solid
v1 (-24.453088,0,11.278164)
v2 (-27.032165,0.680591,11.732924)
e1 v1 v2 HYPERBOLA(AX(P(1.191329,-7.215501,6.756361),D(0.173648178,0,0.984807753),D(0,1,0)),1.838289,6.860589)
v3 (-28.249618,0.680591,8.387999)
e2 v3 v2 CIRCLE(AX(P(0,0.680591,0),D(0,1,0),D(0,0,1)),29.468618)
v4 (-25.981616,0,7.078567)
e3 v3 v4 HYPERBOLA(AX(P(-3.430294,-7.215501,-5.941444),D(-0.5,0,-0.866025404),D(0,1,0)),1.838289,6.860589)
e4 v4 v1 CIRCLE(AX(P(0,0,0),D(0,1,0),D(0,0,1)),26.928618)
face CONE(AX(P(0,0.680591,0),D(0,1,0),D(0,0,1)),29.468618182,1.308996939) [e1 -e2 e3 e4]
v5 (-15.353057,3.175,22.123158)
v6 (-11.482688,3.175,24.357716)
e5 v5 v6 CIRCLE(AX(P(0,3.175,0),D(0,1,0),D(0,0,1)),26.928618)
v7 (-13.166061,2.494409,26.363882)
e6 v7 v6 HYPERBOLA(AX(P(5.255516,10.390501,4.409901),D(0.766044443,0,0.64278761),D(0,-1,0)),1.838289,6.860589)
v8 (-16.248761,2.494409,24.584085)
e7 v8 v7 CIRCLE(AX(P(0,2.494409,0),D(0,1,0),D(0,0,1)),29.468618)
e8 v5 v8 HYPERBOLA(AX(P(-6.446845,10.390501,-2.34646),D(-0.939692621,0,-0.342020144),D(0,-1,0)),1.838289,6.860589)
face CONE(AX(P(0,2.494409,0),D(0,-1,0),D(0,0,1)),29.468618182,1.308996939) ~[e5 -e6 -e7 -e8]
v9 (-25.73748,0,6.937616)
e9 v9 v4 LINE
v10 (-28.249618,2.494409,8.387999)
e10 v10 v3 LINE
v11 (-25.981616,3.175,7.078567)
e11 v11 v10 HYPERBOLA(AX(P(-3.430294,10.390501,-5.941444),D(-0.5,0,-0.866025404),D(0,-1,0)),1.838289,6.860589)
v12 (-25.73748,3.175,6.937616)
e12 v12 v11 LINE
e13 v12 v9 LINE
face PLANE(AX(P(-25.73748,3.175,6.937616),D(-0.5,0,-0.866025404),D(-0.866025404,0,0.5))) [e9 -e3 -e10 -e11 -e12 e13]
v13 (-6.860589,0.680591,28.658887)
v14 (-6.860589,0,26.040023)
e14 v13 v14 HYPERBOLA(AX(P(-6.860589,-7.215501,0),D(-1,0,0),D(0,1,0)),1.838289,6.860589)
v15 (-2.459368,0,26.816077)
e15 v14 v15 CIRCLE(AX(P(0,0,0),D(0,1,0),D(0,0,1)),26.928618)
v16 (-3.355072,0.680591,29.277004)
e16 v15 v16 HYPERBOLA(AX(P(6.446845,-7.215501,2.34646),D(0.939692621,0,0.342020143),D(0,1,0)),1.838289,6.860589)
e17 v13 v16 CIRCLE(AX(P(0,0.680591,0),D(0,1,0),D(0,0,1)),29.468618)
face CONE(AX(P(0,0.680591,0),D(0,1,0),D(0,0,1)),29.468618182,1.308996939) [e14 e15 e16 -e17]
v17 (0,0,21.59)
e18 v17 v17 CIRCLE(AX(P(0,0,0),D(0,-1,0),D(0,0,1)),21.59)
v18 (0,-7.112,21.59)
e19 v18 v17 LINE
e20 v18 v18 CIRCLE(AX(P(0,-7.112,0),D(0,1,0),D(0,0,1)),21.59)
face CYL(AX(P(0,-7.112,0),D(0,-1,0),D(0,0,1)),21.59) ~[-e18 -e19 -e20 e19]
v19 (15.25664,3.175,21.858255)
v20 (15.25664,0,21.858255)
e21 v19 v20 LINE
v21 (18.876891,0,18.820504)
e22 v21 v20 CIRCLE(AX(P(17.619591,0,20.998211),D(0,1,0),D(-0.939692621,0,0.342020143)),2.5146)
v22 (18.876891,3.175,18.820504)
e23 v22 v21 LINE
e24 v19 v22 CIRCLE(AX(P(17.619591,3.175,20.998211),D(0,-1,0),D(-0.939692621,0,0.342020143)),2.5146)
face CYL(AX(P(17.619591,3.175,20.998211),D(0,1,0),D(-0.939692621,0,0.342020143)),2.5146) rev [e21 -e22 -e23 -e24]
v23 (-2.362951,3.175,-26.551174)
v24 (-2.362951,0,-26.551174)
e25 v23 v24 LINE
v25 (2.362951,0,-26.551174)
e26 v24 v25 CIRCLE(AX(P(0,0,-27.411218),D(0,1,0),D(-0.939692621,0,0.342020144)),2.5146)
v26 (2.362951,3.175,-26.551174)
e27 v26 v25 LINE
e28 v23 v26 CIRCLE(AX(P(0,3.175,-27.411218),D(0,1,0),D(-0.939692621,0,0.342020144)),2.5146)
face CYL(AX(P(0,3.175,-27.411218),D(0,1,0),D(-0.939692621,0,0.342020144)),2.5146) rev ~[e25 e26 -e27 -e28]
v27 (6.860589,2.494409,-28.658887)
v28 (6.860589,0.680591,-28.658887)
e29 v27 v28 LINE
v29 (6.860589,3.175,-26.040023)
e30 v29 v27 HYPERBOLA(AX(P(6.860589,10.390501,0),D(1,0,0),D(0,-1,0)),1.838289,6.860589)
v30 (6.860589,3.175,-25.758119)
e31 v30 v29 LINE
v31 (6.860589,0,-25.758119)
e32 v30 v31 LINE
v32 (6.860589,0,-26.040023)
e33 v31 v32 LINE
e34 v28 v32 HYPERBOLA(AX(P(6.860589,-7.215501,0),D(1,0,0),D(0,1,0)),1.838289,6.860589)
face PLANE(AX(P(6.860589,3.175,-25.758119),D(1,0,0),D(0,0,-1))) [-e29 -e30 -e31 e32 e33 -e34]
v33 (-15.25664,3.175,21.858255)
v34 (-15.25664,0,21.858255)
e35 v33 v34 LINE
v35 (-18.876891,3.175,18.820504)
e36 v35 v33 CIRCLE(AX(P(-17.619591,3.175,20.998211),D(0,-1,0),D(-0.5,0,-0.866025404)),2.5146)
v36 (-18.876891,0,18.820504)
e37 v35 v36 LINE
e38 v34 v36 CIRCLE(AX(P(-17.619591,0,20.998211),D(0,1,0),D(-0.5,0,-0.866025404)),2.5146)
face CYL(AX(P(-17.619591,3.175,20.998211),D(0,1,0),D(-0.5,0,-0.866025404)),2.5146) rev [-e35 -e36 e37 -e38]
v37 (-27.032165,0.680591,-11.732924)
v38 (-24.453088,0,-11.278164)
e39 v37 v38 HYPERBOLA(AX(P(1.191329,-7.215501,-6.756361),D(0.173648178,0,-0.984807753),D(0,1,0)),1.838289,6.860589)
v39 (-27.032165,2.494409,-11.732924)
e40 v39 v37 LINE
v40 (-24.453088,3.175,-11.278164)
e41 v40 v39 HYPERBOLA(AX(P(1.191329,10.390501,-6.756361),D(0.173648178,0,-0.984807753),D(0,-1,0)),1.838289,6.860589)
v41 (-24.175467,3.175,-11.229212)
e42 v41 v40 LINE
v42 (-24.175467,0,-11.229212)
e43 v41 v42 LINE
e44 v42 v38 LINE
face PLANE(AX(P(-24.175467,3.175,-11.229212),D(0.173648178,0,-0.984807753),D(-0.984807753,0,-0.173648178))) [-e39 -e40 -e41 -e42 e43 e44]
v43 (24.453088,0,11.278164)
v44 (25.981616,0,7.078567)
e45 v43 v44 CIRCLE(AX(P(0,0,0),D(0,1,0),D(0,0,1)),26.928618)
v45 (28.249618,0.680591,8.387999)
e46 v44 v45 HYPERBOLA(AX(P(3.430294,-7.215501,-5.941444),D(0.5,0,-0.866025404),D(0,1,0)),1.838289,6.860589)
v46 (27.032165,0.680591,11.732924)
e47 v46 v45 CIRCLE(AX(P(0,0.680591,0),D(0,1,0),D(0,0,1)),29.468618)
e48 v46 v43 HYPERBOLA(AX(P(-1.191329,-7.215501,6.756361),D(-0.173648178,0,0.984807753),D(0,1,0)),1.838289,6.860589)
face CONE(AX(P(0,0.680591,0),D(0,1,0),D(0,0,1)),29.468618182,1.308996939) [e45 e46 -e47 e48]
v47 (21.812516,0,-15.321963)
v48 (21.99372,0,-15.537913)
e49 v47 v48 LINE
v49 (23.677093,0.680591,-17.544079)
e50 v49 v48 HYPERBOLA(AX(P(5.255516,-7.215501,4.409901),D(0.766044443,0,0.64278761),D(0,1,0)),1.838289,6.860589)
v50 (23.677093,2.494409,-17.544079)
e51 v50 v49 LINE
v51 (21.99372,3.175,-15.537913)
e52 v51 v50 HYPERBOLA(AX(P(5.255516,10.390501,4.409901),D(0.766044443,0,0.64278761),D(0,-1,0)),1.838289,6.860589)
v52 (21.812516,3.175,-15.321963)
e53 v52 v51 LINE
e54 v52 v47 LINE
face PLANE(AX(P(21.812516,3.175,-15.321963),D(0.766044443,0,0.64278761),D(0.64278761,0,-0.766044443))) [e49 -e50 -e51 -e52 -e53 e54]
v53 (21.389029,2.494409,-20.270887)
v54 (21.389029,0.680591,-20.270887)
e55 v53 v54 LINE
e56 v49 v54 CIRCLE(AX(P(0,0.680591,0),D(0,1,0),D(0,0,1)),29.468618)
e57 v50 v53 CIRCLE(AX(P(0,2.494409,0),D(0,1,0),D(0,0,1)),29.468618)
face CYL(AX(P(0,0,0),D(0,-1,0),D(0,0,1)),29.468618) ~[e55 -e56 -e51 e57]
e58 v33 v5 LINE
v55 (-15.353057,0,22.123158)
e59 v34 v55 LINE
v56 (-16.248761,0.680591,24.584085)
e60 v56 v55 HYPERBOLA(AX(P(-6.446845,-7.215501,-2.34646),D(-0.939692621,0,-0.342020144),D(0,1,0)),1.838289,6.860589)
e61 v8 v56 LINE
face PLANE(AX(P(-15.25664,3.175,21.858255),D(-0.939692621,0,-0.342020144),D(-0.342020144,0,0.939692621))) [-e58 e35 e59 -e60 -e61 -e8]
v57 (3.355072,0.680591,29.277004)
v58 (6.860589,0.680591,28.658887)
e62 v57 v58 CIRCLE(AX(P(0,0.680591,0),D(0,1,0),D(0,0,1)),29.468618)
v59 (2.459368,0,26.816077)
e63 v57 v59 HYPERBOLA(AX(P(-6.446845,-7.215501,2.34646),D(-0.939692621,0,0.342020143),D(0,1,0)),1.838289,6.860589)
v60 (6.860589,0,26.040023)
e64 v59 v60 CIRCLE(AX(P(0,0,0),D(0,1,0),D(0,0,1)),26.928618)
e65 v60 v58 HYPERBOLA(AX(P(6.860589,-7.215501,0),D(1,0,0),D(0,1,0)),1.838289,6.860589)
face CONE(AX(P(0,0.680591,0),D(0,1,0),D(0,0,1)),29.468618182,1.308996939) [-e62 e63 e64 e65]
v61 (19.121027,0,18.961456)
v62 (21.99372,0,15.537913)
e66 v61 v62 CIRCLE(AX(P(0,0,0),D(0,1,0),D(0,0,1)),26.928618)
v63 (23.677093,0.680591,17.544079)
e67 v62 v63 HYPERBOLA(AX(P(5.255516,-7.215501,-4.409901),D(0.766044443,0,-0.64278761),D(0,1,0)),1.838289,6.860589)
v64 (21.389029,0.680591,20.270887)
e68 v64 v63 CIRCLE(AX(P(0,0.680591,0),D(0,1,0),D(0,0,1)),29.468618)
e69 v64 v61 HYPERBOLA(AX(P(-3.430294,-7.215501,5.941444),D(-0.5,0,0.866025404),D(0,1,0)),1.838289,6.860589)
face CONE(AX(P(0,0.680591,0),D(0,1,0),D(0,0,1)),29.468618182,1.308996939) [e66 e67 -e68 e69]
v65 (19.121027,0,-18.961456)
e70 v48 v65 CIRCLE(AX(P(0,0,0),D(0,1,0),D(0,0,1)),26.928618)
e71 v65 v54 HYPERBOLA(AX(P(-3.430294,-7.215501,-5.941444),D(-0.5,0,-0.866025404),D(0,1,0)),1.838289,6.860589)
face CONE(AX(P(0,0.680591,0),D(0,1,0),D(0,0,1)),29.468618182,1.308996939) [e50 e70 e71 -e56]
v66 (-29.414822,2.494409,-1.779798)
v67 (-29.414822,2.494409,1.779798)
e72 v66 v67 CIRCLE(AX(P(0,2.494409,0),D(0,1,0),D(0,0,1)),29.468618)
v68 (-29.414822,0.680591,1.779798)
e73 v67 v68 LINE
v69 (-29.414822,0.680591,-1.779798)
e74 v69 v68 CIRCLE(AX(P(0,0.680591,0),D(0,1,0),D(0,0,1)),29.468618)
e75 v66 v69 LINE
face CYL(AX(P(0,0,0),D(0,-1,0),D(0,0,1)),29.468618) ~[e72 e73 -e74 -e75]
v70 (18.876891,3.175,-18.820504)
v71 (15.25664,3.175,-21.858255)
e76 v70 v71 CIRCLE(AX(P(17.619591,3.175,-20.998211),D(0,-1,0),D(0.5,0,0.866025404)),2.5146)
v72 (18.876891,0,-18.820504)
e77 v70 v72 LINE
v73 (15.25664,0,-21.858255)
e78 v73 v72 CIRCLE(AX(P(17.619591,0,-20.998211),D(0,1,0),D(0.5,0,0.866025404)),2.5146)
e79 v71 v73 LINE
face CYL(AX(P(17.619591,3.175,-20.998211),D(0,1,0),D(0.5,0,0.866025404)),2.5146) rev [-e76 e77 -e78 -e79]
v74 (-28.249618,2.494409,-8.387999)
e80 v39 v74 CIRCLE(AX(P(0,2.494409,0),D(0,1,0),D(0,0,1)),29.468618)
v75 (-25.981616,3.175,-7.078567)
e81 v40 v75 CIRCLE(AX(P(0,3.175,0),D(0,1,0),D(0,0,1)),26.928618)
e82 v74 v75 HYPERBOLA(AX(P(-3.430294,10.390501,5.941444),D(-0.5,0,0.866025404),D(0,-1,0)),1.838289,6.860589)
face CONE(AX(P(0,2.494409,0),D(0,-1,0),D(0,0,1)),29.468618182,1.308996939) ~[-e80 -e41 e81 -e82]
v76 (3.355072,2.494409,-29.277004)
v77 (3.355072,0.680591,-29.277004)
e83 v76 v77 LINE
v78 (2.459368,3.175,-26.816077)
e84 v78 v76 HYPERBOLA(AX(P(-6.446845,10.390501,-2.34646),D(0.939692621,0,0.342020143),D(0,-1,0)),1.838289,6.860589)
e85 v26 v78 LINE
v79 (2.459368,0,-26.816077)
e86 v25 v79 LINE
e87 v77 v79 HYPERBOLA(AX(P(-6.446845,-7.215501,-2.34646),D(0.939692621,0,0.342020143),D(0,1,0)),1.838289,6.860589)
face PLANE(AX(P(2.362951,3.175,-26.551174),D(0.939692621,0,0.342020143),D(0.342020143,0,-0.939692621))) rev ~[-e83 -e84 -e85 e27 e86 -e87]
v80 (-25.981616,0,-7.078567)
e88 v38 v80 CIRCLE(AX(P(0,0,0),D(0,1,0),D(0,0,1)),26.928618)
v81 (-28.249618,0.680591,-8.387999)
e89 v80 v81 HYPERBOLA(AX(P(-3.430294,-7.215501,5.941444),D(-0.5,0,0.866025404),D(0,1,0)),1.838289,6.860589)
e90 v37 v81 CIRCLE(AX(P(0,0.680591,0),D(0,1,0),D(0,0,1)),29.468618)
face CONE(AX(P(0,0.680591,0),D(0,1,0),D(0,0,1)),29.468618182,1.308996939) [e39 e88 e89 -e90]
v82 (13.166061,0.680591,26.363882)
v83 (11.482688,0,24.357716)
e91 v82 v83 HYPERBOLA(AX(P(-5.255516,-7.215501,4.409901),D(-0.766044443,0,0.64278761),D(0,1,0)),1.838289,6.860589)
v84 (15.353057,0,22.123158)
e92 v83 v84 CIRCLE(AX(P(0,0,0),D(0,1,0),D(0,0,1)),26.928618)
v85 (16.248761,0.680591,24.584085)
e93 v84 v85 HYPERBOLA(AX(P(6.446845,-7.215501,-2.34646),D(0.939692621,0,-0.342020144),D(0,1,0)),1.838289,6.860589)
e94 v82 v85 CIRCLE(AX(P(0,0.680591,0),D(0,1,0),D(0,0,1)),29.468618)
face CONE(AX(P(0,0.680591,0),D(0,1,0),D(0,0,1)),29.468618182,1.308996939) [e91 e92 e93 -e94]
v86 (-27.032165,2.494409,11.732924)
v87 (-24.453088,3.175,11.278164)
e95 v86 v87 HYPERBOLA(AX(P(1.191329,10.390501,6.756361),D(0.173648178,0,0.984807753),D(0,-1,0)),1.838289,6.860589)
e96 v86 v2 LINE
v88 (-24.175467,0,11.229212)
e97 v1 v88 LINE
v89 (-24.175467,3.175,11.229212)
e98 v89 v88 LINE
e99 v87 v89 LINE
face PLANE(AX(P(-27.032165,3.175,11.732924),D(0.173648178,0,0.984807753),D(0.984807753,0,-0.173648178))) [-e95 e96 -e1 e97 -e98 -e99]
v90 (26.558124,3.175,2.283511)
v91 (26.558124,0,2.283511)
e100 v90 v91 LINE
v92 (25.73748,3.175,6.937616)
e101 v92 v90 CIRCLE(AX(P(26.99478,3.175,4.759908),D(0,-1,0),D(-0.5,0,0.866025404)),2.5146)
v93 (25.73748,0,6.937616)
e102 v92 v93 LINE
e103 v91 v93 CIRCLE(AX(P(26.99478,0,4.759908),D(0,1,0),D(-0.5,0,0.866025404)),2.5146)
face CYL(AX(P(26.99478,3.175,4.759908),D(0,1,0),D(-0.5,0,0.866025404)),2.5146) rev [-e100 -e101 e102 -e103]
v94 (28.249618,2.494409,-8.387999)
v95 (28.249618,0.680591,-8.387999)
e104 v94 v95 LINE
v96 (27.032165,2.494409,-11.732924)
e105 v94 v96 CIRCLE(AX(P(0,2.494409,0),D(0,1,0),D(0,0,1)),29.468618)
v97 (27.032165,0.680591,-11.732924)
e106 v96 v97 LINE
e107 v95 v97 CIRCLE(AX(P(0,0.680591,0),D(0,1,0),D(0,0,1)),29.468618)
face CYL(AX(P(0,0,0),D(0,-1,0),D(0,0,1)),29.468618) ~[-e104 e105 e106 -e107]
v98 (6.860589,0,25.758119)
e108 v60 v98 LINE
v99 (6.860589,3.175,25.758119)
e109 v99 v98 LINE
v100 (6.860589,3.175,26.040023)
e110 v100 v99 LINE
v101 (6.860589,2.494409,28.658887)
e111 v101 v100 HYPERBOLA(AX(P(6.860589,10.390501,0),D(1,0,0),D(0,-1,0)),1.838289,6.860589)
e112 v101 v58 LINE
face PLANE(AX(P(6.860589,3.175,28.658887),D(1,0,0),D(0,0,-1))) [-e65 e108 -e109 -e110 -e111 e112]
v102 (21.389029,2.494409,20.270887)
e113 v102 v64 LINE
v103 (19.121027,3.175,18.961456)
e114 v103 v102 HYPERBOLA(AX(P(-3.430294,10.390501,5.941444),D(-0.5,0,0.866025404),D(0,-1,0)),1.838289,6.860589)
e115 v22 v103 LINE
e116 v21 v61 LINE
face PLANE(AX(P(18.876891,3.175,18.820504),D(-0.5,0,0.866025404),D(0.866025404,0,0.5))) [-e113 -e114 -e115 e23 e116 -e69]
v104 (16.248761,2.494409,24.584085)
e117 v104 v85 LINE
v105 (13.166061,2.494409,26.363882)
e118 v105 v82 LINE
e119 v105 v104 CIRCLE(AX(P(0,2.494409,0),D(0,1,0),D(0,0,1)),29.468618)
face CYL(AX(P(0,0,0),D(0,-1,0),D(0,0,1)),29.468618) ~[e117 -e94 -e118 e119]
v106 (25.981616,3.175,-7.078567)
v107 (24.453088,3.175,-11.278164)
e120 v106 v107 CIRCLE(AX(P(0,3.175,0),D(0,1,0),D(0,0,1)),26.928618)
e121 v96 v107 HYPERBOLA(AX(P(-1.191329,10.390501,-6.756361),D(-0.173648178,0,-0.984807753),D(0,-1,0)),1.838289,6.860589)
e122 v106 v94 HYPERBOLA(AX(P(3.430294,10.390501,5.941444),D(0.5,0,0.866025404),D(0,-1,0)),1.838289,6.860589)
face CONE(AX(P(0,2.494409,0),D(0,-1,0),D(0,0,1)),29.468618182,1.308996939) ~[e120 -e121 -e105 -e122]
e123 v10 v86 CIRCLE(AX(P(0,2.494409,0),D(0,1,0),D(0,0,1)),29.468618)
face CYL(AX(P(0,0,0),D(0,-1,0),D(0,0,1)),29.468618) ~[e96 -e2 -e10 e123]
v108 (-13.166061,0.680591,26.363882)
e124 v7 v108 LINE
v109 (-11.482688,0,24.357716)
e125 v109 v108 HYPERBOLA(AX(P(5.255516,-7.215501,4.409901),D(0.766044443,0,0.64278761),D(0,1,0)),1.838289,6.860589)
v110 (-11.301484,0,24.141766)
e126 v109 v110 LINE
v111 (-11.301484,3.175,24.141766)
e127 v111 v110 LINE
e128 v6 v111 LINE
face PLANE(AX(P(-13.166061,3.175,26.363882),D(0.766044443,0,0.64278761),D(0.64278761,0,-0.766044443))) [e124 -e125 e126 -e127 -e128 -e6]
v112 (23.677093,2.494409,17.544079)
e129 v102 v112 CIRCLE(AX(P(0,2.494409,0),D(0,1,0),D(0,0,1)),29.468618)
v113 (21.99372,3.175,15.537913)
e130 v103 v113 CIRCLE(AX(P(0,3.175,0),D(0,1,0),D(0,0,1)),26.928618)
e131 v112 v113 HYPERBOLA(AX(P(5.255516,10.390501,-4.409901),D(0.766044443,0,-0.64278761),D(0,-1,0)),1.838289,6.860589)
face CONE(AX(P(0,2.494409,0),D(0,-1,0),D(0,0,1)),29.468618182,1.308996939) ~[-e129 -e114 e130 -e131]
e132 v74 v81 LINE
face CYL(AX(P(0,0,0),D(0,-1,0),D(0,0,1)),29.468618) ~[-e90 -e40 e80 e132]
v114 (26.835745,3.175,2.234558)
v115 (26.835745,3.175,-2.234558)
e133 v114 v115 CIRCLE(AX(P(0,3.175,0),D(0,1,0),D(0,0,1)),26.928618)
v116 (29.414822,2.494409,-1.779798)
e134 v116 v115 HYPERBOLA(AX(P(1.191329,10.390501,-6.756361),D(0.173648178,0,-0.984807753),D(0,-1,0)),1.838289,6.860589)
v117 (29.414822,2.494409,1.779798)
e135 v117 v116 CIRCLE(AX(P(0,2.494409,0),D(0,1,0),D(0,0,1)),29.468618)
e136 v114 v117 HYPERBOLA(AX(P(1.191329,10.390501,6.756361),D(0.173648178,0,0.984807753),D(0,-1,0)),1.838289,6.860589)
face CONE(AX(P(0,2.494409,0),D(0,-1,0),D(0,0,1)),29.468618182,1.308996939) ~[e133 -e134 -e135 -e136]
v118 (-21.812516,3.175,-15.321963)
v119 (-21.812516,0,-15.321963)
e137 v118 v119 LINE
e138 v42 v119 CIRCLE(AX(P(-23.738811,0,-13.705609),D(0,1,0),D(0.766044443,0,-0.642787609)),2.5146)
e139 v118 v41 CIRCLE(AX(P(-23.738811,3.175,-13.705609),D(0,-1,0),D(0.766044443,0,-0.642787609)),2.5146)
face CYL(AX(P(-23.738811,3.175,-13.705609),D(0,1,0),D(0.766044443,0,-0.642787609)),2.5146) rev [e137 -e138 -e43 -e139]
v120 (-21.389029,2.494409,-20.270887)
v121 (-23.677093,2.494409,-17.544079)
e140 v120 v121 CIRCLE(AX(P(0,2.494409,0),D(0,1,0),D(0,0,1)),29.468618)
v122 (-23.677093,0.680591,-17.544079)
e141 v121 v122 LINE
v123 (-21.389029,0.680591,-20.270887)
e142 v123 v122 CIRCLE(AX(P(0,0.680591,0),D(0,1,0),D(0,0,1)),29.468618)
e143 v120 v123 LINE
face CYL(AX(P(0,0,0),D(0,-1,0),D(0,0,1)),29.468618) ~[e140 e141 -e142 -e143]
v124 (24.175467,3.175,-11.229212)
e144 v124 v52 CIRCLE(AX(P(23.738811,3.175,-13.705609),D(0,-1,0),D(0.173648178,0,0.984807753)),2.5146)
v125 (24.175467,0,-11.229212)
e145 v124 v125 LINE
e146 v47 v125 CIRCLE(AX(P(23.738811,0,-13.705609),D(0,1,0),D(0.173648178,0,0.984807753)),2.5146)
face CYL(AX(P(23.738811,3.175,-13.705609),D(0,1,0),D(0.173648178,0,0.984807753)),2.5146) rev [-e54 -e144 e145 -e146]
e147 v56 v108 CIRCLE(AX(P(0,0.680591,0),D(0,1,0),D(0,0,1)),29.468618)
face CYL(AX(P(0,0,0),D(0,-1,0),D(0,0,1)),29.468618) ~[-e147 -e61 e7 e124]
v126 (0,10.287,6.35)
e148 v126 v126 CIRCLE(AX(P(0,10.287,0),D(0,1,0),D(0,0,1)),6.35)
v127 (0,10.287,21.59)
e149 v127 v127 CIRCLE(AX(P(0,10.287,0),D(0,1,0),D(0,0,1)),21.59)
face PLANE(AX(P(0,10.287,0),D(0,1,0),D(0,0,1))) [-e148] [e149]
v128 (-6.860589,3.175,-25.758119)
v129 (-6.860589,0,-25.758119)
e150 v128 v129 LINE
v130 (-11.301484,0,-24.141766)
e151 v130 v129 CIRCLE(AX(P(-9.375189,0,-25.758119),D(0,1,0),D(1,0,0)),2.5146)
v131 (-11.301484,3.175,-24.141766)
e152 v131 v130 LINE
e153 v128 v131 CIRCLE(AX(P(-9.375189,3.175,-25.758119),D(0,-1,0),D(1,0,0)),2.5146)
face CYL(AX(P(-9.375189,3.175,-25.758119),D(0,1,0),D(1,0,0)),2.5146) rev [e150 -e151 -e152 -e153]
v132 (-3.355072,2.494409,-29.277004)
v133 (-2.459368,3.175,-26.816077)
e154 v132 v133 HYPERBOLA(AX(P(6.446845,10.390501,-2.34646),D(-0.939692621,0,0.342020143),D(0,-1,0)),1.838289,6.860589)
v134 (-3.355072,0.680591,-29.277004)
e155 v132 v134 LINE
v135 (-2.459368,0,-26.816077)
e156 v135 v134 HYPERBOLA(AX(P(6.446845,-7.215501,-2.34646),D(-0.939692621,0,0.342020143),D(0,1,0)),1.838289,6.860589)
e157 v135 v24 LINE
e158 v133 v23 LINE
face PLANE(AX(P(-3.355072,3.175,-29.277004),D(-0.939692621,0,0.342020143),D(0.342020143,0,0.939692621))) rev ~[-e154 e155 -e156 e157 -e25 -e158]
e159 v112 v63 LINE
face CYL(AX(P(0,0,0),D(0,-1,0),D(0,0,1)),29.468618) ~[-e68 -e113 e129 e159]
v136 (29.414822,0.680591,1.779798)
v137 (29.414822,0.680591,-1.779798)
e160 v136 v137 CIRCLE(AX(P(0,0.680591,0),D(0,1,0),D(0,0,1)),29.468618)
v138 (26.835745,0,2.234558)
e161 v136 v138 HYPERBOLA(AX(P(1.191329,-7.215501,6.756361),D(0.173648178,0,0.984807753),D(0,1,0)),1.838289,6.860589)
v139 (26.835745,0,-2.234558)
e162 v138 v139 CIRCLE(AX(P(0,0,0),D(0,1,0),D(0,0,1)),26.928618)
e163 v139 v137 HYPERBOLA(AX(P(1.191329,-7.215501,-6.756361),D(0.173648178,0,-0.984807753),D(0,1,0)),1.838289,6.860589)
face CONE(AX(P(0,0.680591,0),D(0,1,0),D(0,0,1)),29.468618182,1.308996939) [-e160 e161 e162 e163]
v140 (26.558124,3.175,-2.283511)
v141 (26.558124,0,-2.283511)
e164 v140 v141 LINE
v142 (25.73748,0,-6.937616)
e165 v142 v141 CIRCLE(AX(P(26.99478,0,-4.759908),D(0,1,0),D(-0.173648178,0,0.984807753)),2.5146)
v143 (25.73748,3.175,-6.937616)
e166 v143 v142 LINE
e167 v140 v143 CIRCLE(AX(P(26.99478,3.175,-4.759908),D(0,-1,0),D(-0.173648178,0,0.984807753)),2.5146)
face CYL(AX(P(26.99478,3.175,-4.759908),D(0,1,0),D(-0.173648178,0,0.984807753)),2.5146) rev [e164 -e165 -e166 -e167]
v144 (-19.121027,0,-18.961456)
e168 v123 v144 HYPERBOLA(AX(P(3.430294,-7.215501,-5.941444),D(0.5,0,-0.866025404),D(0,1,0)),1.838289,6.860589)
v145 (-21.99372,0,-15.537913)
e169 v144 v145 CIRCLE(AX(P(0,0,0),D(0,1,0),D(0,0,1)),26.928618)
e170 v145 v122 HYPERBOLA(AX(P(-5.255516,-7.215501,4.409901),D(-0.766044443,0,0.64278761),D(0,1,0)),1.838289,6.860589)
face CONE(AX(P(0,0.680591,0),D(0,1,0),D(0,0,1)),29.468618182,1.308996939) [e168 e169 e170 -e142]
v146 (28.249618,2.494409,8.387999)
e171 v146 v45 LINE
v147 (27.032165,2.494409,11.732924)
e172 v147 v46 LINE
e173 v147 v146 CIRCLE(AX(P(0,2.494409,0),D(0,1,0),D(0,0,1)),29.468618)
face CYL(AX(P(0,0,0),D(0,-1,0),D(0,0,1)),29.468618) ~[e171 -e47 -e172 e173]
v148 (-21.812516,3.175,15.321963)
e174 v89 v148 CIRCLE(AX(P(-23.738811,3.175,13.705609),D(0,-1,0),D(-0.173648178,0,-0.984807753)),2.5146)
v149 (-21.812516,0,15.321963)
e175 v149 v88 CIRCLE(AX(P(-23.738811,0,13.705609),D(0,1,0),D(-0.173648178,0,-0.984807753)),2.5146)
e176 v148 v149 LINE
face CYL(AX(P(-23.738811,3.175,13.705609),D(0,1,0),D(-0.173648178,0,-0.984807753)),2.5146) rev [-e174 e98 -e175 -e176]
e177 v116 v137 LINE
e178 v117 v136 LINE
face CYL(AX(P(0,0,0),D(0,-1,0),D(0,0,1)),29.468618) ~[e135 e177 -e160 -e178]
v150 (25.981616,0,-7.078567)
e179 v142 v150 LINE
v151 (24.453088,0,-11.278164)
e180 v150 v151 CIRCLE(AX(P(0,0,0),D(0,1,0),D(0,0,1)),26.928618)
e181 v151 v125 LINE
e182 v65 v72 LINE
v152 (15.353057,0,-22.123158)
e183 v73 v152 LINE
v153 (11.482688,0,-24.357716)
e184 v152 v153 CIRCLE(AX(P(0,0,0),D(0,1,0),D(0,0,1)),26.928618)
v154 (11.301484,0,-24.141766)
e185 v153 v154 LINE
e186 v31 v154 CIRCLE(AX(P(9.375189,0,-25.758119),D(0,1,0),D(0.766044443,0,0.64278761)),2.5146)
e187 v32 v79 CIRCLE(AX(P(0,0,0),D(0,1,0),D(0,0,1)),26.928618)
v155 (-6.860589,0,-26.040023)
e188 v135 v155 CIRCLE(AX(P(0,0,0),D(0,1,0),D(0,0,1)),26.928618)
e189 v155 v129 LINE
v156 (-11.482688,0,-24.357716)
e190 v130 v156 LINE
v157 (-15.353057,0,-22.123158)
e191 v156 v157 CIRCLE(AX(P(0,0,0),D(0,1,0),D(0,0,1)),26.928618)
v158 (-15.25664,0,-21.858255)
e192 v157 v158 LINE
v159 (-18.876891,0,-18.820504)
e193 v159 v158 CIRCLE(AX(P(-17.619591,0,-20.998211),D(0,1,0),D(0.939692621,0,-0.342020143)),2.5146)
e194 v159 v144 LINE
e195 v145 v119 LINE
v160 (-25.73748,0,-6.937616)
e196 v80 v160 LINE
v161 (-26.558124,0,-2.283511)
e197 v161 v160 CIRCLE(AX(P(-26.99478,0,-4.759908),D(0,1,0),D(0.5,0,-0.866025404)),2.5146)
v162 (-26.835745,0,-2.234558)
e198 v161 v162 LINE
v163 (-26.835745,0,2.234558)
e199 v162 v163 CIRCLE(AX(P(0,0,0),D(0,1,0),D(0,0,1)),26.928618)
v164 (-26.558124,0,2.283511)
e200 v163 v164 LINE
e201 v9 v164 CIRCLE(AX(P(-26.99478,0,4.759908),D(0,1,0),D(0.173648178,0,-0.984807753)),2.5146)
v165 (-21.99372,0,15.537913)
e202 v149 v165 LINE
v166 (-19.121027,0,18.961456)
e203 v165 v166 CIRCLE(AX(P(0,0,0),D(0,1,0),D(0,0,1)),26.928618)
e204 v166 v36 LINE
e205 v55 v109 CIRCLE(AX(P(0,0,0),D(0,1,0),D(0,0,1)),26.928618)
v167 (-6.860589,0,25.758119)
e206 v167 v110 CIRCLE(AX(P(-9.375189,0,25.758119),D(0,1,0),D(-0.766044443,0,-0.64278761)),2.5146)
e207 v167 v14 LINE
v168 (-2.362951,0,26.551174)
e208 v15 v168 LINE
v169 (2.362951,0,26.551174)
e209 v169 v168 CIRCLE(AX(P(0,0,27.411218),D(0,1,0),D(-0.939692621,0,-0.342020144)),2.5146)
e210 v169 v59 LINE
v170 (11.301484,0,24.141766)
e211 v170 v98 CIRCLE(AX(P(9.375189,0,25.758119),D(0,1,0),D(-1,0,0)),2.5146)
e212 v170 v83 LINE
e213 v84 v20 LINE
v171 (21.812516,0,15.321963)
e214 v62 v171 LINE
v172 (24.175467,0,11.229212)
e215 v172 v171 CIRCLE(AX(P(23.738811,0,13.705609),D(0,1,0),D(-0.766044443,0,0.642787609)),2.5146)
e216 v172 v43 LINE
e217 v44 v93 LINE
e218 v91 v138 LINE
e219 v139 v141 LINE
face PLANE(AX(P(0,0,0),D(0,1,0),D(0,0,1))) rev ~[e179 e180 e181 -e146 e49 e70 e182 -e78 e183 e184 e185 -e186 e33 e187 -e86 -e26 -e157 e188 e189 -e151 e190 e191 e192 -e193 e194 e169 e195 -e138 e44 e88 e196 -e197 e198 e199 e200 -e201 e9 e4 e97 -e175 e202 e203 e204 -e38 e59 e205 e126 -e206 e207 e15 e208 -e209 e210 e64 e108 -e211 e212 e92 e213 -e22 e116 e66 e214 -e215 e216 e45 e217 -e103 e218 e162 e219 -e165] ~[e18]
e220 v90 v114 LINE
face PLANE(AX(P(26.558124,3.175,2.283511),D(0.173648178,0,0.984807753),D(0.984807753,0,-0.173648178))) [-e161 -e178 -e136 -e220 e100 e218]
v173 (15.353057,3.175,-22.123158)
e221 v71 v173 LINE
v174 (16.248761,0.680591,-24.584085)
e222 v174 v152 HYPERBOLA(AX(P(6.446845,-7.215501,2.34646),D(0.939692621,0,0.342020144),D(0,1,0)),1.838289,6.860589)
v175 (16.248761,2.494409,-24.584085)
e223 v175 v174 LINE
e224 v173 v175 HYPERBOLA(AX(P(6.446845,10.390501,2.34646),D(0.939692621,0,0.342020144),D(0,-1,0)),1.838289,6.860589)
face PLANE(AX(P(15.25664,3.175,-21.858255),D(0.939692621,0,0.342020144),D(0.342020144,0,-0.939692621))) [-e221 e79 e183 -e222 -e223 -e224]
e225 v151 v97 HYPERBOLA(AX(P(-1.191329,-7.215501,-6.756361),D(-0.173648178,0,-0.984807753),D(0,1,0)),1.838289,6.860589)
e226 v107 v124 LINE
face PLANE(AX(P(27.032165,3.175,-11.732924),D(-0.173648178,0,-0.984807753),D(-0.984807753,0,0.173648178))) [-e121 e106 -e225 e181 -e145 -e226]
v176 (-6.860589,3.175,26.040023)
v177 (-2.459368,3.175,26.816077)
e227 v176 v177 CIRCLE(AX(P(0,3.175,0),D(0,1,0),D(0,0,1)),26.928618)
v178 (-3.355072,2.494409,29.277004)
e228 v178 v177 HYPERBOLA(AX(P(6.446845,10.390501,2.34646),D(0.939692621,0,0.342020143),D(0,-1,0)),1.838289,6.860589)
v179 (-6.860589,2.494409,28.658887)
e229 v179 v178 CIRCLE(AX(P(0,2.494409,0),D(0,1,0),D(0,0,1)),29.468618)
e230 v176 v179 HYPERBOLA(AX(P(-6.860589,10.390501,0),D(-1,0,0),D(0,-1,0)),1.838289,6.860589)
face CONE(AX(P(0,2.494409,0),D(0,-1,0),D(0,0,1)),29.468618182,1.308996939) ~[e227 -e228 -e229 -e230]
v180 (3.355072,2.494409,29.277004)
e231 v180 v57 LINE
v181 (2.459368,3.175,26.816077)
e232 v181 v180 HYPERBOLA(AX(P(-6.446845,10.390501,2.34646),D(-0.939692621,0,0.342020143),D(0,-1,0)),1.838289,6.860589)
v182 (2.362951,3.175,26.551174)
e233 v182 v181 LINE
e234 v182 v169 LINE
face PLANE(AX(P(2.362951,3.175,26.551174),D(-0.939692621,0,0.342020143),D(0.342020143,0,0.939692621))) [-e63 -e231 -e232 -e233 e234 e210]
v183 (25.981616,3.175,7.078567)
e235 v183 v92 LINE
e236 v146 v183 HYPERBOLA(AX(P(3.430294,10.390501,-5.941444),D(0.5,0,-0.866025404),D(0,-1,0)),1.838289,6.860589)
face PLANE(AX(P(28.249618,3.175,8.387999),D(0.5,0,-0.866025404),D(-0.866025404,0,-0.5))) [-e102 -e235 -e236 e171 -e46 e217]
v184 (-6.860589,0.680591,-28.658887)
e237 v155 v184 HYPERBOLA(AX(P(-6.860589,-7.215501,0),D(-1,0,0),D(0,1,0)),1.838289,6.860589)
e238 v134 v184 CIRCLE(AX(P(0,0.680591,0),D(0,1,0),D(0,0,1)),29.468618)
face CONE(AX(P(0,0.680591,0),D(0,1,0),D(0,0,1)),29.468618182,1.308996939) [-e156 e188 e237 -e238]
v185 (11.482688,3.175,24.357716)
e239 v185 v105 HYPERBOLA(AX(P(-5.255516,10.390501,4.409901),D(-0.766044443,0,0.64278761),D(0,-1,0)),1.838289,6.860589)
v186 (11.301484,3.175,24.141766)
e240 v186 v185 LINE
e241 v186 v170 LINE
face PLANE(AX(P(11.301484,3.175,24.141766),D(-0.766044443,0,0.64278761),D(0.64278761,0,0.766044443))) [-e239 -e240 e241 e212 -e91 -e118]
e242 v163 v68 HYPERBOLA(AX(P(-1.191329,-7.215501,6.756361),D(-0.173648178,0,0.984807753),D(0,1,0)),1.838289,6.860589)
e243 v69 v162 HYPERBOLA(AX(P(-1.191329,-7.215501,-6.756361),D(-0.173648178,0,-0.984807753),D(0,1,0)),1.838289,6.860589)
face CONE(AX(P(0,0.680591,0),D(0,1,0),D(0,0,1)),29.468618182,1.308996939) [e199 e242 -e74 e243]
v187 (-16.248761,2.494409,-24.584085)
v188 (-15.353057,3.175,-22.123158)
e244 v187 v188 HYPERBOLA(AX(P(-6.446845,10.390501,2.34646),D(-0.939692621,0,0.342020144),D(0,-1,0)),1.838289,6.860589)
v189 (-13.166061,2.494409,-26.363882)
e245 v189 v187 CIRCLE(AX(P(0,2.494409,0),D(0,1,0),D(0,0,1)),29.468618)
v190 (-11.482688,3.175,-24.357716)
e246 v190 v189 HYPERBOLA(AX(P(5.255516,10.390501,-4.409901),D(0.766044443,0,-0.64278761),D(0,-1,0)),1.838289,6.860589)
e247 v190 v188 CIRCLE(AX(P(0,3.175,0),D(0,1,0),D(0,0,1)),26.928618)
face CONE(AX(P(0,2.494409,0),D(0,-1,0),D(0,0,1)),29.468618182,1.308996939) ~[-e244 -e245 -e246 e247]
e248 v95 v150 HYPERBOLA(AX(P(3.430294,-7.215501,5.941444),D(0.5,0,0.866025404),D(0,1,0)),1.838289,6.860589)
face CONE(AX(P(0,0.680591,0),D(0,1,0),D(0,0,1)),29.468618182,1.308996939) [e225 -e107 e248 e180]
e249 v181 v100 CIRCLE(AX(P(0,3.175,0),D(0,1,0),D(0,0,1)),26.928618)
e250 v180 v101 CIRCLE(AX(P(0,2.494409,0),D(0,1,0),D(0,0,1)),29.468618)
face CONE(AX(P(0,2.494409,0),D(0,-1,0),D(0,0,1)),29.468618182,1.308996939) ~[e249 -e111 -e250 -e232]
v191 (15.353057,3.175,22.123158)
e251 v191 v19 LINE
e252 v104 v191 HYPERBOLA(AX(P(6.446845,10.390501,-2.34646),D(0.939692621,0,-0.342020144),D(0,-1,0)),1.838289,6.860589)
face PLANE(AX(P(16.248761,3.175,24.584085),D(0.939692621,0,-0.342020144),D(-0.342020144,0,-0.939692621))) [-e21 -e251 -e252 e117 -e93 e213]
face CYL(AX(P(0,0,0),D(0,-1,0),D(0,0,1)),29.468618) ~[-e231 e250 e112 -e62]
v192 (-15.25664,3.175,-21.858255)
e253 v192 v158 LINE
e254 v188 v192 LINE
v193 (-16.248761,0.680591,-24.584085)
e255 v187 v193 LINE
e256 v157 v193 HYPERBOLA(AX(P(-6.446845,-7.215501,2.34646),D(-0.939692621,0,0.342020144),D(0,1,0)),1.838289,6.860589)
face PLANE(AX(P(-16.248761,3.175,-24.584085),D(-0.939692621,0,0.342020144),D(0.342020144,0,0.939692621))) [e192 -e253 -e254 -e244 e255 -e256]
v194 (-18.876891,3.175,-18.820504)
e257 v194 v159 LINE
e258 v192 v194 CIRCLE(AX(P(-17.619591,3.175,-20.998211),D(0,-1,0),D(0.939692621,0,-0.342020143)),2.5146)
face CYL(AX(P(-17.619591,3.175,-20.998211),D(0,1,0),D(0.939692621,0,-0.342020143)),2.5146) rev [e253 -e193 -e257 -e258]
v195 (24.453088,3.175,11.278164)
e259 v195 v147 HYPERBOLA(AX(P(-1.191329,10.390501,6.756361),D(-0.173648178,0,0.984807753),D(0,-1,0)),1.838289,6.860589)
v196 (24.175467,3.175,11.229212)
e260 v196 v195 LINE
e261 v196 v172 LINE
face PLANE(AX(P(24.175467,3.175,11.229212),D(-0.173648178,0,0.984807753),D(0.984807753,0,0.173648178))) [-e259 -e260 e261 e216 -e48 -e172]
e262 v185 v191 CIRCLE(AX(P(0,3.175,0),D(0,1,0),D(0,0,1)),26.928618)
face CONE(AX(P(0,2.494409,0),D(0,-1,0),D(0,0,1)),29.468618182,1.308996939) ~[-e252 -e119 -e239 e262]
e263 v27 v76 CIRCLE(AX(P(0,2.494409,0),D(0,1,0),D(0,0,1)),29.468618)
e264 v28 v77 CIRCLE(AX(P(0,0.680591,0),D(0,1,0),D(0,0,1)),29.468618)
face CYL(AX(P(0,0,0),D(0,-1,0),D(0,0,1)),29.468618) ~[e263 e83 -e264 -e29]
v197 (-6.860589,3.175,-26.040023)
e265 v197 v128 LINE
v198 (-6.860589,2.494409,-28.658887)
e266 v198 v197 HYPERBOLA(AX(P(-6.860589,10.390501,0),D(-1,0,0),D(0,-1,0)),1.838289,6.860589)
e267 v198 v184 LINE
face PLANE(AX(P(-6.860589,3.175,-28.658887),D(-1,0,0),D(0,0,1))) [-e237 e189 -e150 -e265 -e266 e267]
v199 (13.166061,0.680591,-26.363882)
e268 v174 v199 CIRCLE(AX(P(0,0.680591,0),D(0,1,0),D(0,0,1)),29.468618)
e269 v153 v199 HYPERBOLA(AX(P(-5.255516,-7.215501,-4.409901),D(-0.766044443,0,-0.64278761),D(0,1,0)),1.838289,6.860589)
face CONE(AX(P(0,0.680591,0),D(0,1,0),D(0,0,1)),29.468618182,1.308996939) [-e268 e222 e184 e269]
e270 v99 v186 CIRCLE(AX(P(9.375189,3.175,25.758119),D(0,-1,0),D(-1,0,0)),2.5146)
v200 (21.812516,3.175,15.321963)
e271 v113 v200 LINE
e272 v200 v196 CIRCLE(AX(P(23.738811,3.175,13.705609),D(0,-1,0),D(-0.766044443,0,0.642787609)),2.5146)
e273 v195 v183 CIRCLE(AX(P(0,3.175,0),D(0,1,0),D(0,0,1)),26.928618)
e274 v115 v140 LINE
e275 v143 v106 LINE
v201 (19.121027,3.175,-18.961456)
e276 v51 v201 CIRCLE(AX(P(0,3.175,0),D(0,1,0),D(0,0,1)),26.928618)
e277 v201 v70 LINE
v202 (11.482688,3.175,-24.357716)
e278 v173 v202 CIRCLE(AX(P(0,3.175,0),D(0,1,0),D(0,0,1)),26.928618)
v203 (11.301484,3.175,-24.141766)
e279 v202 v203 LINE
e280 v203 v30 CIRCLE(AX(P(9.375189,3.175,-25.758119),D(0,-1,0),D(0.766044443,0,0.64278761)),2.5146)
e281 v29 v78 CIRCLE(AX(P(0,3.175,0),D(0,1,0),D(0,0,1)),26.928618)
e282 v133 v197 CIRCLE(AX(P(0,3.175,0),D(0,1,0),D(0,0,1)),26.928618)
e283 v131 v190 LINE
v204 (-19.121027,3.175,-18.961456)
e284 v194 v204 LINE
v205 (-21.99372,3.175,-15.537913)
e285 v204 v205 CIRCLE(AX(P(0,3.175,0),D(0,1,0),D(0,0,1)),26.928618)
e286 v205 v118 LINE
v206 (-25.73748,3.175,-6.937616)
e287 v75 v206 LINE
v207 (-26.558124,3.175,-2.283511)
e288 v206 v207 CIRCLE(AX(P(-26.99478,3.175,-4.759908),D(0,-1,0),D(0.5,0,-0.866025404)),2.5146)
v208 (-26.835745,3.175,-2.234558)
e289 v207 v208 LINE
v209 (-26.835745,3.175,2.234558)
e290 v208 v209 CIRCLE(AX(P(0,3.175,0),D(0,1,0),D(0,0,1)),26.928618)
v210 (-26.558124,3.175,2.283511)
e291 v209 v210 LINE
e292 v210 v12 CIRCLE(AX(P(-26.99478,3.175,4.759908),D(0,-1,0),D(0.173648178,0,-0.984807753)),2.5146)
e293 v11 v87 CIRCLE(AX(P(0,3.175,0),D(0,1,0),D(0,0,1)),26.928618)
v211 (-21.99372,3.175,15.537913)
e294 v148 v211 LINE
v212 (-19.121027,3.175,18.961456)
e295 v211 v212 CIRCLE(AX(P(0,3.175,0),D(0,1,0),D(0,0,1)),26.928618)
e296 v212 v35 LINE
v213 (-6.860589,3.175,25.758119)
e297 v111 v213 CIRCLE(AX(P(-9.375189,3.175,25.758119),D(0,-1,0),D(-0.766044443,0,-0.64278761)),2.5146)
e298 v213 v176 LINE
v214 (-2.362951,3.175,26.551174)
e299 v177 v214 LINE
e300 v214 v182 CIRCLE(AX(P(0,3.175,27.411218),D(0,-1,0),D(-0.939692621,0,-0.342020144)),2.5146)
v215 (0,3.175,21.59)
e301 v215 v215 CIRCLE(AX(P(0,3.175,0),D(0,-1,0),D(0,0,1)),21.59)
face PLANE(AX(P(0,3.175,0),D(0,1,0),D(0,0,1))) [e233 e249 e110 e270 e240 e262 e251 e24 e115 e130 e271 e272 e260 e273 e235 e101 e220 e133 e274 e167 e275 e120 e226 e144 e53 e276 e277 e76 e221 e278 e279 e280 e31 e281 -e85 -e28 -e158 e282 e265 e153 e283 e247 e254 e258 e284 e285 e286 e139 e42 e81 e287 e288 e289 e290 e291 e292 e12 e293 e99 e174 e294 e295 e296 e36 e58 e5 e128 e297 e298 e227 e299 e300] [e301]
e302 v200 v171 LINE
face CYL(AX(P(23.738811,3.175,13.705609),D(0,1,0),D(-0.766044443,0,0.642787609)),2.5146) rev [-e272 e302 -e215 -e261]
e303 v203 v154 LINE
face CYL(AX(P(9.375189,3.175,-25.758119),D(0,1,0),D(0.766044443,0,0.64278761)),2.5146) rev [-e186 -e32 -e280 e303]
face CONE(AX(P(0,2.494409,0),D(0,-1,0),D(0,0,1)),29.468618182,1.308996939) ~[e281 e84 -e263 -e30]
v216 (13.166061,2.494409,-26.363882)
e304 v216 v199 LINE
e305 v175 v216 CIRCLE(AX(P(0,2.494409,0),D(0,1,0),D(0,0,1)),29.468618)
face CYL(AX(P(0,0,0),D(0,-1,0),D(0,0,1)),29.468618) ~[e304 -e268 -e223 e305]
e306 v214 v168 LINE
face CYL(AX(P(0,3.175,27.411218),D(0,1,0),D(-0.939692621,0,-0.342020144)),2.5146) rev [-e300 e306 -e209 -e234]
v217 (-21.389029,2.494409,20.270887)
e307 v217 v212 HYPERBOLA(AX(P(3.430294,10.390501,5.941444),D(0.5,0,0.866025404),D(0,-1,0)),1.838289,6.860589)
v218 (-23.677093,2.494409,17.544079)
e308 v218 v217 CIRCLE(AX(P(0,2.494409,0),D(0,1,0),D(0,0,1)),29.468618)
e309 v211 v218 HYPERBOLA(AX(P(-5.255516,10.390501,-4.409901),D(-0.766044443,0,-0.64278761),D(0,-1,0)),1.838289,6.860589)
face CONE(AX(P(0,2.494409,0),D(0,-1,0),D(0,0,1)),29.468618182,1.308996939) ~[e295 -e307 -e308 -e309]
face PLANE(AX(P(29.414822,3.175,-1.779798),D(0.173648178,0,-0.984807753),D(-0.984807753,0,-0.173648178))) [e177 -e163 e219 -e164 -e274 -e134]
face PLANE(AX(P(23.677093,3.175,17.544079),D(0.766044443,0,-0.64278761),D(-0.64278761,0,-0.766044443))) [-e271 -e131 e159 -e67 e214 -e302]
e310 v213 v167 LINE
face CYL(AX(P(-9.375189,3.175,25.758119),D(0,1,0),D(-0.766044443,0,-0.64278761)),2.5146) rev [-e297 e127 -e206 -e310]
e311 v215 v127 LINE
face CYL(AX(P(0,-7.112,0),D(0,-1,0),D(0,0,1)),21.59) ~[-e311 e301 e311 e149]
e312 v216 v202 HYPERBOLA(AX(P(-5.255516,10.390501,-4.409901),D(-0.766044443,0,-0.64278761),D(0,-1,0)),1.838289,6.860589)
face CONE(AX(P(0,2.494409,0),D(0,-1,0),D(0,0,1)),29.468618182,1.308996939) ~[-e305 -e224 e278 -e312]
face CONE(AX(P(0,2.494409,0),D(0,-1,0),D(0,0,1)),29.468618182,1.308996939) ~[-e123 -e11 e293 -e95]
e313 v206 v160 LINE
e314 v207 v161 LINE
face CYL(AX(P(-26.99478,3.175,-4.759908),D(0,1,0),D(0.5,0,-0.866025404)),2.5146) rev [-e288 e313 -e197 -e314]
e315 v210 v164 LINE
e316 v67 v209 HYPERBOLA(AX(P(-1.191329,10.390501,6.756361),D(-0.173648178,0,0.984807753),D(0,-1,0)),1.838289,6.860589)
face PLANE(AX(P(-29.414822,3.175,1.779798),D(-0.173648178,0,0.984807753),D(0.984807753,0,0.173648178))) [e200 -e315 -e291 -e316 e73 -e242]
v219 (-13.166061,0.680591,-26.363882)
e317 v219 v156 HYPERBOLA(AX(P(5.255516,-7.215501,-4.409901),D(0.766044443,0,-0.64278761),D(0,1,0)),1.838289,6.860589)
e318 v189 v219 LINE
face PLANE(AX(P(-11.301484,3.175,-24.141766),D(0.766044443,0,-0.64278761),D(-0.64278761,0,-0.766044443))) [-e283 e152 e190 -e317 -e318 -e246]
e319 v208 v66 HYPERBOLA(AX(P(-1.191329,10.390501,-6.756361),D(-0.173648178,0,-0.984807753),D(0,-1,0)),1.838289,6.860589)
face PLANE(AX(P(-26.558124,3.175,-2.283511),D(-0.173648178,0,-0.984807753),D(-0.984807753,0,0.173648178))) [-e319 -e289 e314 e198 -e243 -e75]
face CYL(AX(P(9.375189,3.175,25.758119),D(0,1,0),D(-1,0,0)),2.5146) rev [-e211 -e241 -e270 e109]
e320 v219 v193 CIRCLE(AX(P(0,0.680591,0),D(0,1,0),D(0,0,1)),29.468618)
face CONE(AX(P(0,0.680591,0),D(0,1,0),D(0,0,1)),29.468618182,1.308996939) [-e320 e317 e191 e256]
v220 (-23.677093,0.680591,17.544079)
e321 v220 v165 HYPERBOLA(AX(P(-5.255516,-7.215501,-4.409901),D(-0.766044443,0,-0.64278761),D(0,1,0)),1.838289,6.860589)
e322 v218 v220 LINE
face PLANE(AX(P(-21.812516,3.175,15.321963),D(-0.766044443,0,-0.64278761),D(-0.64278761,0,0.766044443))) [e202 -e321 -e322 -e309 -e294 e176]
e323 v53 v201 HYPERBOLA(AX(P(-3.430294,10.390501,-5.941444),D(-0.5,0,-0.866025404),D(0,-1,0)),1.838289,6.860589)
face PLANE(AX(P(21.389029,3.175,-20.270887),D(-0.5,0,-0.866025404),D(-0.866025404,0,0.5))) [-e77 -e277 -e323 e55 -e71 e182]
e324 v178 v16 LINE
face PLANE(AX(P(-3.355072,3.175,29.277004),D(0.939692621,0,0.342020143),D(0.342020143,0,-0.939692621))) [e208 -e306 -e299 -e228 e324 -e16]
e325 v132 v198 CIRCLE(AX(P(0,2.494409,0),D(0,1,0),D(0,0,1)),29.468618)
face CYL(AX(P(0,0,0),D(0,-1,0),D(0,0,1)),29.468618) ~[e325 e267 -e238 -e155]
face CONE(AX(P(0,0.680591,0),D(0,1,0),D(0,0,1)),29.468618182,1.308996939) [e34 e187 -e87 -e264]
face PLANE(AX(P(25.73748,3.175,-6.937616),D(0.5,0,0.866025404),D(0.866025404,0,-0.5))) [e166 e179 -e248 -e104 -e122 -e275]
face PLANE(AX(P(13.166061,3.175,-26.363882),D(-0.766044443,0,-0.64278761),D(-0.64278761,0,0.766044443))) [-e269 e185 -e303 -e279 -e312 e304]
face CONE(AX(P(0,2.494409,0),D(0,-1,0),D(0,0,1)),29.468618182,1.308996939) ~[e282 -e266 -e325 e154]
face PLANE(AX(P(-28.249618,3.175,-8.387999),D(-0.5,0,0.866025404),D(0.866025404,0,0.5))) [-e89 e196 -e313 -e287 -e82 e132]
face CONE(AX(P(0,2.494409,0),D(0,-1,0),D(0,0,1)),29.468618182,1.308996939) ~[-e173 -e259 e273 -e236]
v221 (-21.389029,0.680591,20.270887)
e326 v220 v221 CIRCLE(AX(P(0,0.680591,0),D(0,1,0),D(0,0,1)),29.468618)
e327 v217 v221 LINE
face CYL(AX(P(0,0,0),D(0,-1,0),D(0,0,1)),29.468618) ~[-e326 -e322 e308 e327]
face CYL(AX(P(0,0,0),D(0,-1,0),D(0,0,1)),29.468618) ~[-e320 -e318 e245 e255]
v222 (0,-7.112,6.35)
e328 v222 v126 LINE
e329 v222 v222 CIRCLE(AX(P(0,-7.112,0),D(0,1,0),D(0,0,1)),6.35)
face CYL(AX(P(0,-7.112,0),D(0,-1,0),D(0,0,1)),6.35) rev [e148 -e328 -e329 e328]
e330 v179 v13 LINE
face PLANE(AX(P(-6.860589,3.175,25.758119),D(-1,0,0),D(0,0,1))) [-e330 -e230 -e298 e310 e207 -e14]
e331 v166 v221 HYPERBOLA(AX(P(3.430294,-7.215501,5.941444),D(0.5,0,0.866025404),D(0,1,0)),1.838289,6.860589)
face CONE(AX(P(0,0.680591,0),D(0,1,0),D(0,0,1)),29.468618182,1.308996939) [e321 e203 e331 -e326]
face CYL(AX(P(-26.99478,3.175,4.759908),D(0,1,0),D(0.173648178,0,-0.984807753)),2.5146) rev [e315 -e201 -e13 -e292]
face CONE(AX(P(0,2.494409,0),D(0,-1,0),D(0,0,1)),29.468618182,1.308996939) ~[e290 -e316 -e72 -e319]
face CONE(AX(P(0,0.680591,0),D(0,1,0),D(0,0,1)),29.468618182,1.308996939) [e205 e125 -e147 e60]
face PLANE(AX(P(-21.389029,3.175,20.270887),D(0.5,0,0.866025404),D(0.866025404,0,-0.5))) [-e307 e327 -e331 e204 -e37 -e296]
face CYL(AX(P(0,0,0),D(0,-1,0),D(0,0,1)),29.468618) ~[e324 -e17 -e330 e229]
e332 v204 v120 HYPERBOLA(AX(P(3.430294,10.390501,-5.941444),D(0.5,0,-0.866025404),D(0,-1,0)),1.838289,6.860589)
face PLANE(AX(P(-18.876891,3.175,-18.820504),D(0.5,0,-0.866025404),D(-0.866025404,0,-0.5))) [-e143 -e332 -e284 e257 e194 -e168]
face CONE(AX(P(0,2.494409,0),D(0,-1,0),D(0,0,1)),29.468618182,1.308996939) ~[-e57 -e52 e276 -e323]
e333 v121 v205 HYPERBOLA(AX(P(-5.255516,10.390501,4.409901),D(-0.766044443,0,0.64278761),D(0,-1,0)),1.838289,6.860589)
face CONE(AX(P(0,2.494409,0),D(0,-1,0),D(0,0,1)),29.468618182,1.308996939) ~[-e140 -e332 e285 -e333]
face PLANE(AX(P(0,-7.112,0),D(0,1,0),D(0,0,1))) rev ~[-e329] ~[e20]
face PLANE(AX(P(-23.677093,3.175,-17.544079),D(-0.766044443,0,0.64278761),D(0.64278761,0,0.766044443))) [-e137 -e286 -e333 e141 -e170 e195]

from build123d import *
from OCP.BRepFilletAPI import BRepFilletAPI_MakeChamfer

# Parameters (mm, degrees)
SKETCH1_R                = 29.468618182
SKETCH1_R_2              = 6.35
BOSS_EXTRUDE1_DEPTH      = 3.175
CHAMFER1_SIZE            = 2.54
CHAMFER1_SIZE2           = 0.680590949
CUT_EXTRUDE2_DEPTH       = 42.795688056
BOSS_EXTRUDE2_DEPTH      = 7.112
BOSS_EXTRUDE2_DEPTH_BACK = 10.287
SKETCH4_R                = 21.59
SKETCH4_R_2              = 6.35


with BuildPart() as part:
    # Sketch1 → Boss-Extrude1 (new body)
    with BuildSketch(Plane(origin=(0, 0, 0), x_dir=(1, 0, 0), z_dir=(0, 1, 0))):
        with Locations(Location((0, 0, 0), (0, 0, 270))):
            Circle(SKETCH1_R)
        with Locations(Location((0, 0, 0), (0, 0, 270))):
            Circle(SKETCH1_R_2, mode=Mode.SUBTRACT)
    extrude(amount=BOSS_EXTRUDE1_DEPTH)

    # Chamfer1: one chamfer whose edges measure the first distance from different faces: ONE call of the kernel's chamfer builder (chamfer() names one face for all edges)
    chamfer1_edges_1 = [part.edges().sort_by_distance(p)[0] for p in [
        (0, 0, -29.468618182),
    ]]
    chamfer1_side_1 = [part.faces().sort_by_distance(p)[0] for p in [
        (0, 0, -28.635119792),
    ]]
    chamfer1_edges_2 = [part.edges().sort_by_distance(p)[0] for p in [
        (0, 3.175, -29.468618182),
    ]]
    chamfer1_side_2 = [part.faces().sort_by_distance(p)[0] for p in [
        (0, 3.175, -28.635119792),
    ]]
    chamfer1 = BRepFilletAPI_MakeChamfer(part.part.solid().wrapped)
    for e in chamfer1_edges_1:
        chamfer1.Add(CHAMFER1_SIZE, CHAMFER1_SIZE2, e.wrapped, chamfer1_side_1[0].wrapped)  # the first distance lies on this face
    for e in chamfer1_edges_2:
        chamfer1.Add(CHAMFER1_SIZE, CHAMFER1_SIZE2, e.wrapped, chamfer1_side_2[0].wrapped)  # the first distance lies on this face
    add(Compound.cast(chamfer1.Shape()), mode=Mode.REPLACE)

    # Sketch3 → Cut-Extrude2 (cut, through all)
    with BuildSketch(Plane(origin=(0, 3.175, 0), x_dir=(1, 0, 0), z_dir=(0, 1, 0))):
        with BuildLine():
            Line((2.362951064, 26.551174329), (3.355071849, 29.277003782))
            ThreePointArc((3.355071849, 29.277003782), (0, 29.468618182), (-3.355071849, 29.277003782))
            Line((-3.355071849, 29.277003782), (-2.362951064, 26.551174329))
            ThreePointArc((-2.362951064, 26.551174329), (0, 24.896618182), (2.362951064, 26.551174329))
        make_face()
        with BuildLine():
            Line((6.860588771, 25.758119452), (6.860588771, 28.658886567))
            ThreePointArc((6.860588771, 28.658886567), (10.078861014, 27.69144305), (13.166061288, 26.363882258))
            Line((13.166061288, 26.363882258), (11.301484128, 24.141765729))
            ThreePointArc((11.301484128, 24.141765729), (8.515144919, 23.395168388), (6.860588771, 25.758119452))
        make_face()
        with BuildLine():
            Line((15.256640349, 21.85825522), (16.248761134, 24.584084672))
            ThreePointArc((16.248761134, 24.584084672), (18.942062642, 22.574271205), (21.389029426, 20.270887444))
            Line((21.389029426, 20.270887444), (18.876891414, 18.820503887))
            ThreePointArc((18.876891414, 18.820503887), (16.00323769, 19.071916011), (15.256640349, 21.85825522))
        make_face()
        with BuildLine():
            Line((21.812515937, 15.321962814), (23.677093097, 17.544079343))
            ThreePointArc((23.677093097, 17.544079343), (25.52057196, 14.734309091), (27.032164946, 11.732924438))
            Line((27.032164946, 11.732924438), (24.175467002, 11.229211515))
            ThreePointArc((24.175467002, 11.229211515), (21.561103814, 12.448309091), (21.812515937, 15.321962814))
        make_face()
        with BuildLine():
            Line((25.737480185, 6.937615565), (28.249618197, 8.387999123))
            ThreePointArc((28.249618197, 8.387999123), (29.020923656, 5.117171846), (29.414822422, 1.779797586))
            Line((29.414822422, 1.779797586), (26.558124477, 2.283510509))
            ThreePointArc((26.558124477, 2.283510509), (24.518382609, 4.323252377), (25.737480185, 6.937615565))
        make_face()
        with BuildLine():
            Line((26.558124477, -2.283510509), (29.414822422, -1.779797586))
            ThreePointArc((29.414822422, -1.779797586), (29.020923656, -5.117171846), (28.249618197, -8.387999123))
            Line((28.249618197, -8.387999123), (25.737480185, -6.937615565))
            ThreePointArc((25.737480185, -6.937615565), (24.518382609, -4.323252377), (26.558124477, -2.283510509))
        make_face()
        with BuildLine():
            Line((24.175467002, -11.229211515), (27.032164946, -11.732924438))
            ThreePointArc((27.032164946, -11.732924438), (25.52057196, -14.734309091), (23.677093097, -17.544079343))
            Line((23.677093097, -17.544079343), (21.812515937, -15.321962814))
            ThreePointArc((21.812515937, -15.321962814), (21.561103814, -12.448309091), (24.175467002, -11.229211515))
        make_face()
        with BuildLine():
            Line((18.876891414, -18.820503887), (21.389029426, -20.270887444))
            ThreePointArc((21.389029426, -20.270887444), (18.942062642, -22.574271205), (16.248761134, -24.584084672))
            Line((16.248761134, -24.584084672), (15.256640349, -21.85825522))
            ThreePointArc((15.256640349, -21.85825522), (16.00323769, -19.071916011), (18.876891414, -18.820503887))
        make_face()
        with BuildLine():
            Line((11.301484128, -24.141765729), (13.166061288, -26.363882258))
            ThreePointArc((13.166061288, -26.363882258), (10.078861014, -27.69144305), (6.860588771, -28.658886567))
            Line((6.860588771, -28.658886567), (6.860588771, -25.758119452))
            ThreePointArc((6.860588771, -25.758119452), (8.515144919, -23.395168388), (11.301484128, -24.141765729))
        make_face()
        with BuildLine():
            Line((2.362951064, -26.551174329), (3.355071849, -29.277003782))
            ThreePointArc((3.355071849, -29.277003782), (0, -29.468618182), (-3.355071849, -29.277003782))
            Line((-3.355071849, -29.277003782), (-2.362951064, -26.551174329))
            ThreePointArc((-2.362951064, -26.551174329), (0, -24.896618182), (2.362951064, -26.551174329))
        make_face()
        with BuildLine():
            Line((-6.860588771, -25.758119452), (-6.860588771, -28.658886567))
            ThreePointArc((-6.860588771, -28.658886567), (-10.078861014, -27.69144305), (-13.166061288, -26.363882258))
            Line((-13.166061288, -26.363882258), (-11.301484128, -24.141765729))
            ThreePointArc((-11.301484128, -24.141765729), (-8.515144919, -23.395168388), (-6.860588771, -25.758119452))
        make_face()
        with BuildLine():
            Line((-15.256640349, -21.85825522), (-16.248761134, -24.584084672))
            ThreePointArc((-16.248761134, -24.584084672), (-18.942062642, -22.574271205), (-21.389029426, -20.270887444))
            Line((-21.389029426, -20.270887444), (-18.876891414, -18.820503887))
            ThreePointArc((-18.876891414, -18.820503887), (-16.00323769, -19.071916011), (-15.256640349, -21.85825522))
        make_face()
        with BuildLine():
            Line((-21.812515937, -15.321962814), (-23.677093097, -17.544079343))
            ThreePointArc((-23.677093097, -17.544079343), (-25.52057196, -14.734309091), (-27.032164946, -11.732924438))
            Line((-27.032164946, -11.732924438), (-24.175467002, -11.229211515))
            ThreePointArc((-24.175467002, -11.229211515), (-21.561103814, -12.448309091), (-21.812515937, -15.321962814))
        make_face()
        with BuildLine():
            Line((-25.737480185, -6.937615565), (-28.249618197, -8.387999123))
            ThreePointArc((-28.249618197, -8.387999123), (-29.020923656, -5.117171846), (-29.414822422, -1.779797586))
            Line((-29.414822422, -1.779797586), (-26.558124477, -2.283510509))
            ThreePointArc((-26.558124477, -2.283510509), (-24.518382609, -4.323252377), (-25.737480185, -6.937615565))
        make_face()
        with BuildLine():
            Line((-26.558124477, 2.283510509), (-29.414822422, 1.779797586))
            ThreePointArc((-29.414822422, 1.779797586), (-29.020923656, 5.117171846), (-28.249618197, 8.387999123))
            Line((-28.249618197, 8.387999123), (-25.737480185, 6.937615565))
            ThreePointArc((-25.737480185, 6.937615565), (-24.518382609, 4.323252377), (-26.558124477, 2.283510509))
        make_face()
        with BuildLine():
            Line((-24.175467002, 11.229211515), (-27.032164946, 11.732924438))
            ThreePointArc((-27.032164946, 11.732924438), (-25.52057196, 14.734309091), (-23.677093097, 17.544079343))
            Line((-23.677093097, 17.544079343), (-21.812515937, 15.321962814))
            ThreePointArc((-21.812515937, 15.321962814), (-21.561103814, 12.448309091), (-24.175467002, 11.229211515))
        make_face()
        with BuildLine():
            Line((-18.876891414, 18.820503887), (-21.389029426, 20.270887444))
            ThreePointArc((-21.389029426, 20.270887444), (-18.942062642, 22.574271205), (-16.248761134, 24.584084672))
            Line((-16.248761134, 24.584084672), (-15.256640349, 21.85825522))
            ThreePointArc((-15.256640349, 21.85825522), (-16.00323769, 19.071916011), (-18.876891414, 18.820503887))
        make_face()
        with BuildLine():
            Line((-11.301484128, 24.141765729), (-13.166061288, 26.363882258))
            ThreePointArc((-13.166061288, 26.363882258), (-10.078861014, 27.69144305), (-6.860588771, 28.658886567))
            Line((-6.860588771, 28.658886567), (-6.860588771, 25.758119452))
            ThreePointArc((-6.860588771, 25.758119452), (-8.515144919, 23.395168388), (-11.301484128, 24.141765729))
        make_face()
    extrude(amount=-CUT_EXTRUDE2_DEPTH, mode=Mode.SUBTRACT)

    # Sketch4 → Boss-Extrude2 (add, two sides: drawn at the far end of the back side and taken through both)
    with BuildSketch(Plane(origin=(0, 3.175, 0), x_dir=(1, 0, 0), z_dir=(0, 1, 0)).offset(-BOSS_EXTRUDE2_DEPTH_BACK)):
        with Locations(Location((0, 0, 0), (0, 0, 270))):
            Circle(SKETCH4_R)
        with Locations(Location((0, 0, 0), (0, 0, 270))):
            Circle(SKETCH4_R_2, mode=Mode.SUBTRACT)
    extrude(amount=BOSS_EXTRUDE2_DEPTH + BOSS_EXTRUDE2_DEPTH_BACK)


solid = part.part
